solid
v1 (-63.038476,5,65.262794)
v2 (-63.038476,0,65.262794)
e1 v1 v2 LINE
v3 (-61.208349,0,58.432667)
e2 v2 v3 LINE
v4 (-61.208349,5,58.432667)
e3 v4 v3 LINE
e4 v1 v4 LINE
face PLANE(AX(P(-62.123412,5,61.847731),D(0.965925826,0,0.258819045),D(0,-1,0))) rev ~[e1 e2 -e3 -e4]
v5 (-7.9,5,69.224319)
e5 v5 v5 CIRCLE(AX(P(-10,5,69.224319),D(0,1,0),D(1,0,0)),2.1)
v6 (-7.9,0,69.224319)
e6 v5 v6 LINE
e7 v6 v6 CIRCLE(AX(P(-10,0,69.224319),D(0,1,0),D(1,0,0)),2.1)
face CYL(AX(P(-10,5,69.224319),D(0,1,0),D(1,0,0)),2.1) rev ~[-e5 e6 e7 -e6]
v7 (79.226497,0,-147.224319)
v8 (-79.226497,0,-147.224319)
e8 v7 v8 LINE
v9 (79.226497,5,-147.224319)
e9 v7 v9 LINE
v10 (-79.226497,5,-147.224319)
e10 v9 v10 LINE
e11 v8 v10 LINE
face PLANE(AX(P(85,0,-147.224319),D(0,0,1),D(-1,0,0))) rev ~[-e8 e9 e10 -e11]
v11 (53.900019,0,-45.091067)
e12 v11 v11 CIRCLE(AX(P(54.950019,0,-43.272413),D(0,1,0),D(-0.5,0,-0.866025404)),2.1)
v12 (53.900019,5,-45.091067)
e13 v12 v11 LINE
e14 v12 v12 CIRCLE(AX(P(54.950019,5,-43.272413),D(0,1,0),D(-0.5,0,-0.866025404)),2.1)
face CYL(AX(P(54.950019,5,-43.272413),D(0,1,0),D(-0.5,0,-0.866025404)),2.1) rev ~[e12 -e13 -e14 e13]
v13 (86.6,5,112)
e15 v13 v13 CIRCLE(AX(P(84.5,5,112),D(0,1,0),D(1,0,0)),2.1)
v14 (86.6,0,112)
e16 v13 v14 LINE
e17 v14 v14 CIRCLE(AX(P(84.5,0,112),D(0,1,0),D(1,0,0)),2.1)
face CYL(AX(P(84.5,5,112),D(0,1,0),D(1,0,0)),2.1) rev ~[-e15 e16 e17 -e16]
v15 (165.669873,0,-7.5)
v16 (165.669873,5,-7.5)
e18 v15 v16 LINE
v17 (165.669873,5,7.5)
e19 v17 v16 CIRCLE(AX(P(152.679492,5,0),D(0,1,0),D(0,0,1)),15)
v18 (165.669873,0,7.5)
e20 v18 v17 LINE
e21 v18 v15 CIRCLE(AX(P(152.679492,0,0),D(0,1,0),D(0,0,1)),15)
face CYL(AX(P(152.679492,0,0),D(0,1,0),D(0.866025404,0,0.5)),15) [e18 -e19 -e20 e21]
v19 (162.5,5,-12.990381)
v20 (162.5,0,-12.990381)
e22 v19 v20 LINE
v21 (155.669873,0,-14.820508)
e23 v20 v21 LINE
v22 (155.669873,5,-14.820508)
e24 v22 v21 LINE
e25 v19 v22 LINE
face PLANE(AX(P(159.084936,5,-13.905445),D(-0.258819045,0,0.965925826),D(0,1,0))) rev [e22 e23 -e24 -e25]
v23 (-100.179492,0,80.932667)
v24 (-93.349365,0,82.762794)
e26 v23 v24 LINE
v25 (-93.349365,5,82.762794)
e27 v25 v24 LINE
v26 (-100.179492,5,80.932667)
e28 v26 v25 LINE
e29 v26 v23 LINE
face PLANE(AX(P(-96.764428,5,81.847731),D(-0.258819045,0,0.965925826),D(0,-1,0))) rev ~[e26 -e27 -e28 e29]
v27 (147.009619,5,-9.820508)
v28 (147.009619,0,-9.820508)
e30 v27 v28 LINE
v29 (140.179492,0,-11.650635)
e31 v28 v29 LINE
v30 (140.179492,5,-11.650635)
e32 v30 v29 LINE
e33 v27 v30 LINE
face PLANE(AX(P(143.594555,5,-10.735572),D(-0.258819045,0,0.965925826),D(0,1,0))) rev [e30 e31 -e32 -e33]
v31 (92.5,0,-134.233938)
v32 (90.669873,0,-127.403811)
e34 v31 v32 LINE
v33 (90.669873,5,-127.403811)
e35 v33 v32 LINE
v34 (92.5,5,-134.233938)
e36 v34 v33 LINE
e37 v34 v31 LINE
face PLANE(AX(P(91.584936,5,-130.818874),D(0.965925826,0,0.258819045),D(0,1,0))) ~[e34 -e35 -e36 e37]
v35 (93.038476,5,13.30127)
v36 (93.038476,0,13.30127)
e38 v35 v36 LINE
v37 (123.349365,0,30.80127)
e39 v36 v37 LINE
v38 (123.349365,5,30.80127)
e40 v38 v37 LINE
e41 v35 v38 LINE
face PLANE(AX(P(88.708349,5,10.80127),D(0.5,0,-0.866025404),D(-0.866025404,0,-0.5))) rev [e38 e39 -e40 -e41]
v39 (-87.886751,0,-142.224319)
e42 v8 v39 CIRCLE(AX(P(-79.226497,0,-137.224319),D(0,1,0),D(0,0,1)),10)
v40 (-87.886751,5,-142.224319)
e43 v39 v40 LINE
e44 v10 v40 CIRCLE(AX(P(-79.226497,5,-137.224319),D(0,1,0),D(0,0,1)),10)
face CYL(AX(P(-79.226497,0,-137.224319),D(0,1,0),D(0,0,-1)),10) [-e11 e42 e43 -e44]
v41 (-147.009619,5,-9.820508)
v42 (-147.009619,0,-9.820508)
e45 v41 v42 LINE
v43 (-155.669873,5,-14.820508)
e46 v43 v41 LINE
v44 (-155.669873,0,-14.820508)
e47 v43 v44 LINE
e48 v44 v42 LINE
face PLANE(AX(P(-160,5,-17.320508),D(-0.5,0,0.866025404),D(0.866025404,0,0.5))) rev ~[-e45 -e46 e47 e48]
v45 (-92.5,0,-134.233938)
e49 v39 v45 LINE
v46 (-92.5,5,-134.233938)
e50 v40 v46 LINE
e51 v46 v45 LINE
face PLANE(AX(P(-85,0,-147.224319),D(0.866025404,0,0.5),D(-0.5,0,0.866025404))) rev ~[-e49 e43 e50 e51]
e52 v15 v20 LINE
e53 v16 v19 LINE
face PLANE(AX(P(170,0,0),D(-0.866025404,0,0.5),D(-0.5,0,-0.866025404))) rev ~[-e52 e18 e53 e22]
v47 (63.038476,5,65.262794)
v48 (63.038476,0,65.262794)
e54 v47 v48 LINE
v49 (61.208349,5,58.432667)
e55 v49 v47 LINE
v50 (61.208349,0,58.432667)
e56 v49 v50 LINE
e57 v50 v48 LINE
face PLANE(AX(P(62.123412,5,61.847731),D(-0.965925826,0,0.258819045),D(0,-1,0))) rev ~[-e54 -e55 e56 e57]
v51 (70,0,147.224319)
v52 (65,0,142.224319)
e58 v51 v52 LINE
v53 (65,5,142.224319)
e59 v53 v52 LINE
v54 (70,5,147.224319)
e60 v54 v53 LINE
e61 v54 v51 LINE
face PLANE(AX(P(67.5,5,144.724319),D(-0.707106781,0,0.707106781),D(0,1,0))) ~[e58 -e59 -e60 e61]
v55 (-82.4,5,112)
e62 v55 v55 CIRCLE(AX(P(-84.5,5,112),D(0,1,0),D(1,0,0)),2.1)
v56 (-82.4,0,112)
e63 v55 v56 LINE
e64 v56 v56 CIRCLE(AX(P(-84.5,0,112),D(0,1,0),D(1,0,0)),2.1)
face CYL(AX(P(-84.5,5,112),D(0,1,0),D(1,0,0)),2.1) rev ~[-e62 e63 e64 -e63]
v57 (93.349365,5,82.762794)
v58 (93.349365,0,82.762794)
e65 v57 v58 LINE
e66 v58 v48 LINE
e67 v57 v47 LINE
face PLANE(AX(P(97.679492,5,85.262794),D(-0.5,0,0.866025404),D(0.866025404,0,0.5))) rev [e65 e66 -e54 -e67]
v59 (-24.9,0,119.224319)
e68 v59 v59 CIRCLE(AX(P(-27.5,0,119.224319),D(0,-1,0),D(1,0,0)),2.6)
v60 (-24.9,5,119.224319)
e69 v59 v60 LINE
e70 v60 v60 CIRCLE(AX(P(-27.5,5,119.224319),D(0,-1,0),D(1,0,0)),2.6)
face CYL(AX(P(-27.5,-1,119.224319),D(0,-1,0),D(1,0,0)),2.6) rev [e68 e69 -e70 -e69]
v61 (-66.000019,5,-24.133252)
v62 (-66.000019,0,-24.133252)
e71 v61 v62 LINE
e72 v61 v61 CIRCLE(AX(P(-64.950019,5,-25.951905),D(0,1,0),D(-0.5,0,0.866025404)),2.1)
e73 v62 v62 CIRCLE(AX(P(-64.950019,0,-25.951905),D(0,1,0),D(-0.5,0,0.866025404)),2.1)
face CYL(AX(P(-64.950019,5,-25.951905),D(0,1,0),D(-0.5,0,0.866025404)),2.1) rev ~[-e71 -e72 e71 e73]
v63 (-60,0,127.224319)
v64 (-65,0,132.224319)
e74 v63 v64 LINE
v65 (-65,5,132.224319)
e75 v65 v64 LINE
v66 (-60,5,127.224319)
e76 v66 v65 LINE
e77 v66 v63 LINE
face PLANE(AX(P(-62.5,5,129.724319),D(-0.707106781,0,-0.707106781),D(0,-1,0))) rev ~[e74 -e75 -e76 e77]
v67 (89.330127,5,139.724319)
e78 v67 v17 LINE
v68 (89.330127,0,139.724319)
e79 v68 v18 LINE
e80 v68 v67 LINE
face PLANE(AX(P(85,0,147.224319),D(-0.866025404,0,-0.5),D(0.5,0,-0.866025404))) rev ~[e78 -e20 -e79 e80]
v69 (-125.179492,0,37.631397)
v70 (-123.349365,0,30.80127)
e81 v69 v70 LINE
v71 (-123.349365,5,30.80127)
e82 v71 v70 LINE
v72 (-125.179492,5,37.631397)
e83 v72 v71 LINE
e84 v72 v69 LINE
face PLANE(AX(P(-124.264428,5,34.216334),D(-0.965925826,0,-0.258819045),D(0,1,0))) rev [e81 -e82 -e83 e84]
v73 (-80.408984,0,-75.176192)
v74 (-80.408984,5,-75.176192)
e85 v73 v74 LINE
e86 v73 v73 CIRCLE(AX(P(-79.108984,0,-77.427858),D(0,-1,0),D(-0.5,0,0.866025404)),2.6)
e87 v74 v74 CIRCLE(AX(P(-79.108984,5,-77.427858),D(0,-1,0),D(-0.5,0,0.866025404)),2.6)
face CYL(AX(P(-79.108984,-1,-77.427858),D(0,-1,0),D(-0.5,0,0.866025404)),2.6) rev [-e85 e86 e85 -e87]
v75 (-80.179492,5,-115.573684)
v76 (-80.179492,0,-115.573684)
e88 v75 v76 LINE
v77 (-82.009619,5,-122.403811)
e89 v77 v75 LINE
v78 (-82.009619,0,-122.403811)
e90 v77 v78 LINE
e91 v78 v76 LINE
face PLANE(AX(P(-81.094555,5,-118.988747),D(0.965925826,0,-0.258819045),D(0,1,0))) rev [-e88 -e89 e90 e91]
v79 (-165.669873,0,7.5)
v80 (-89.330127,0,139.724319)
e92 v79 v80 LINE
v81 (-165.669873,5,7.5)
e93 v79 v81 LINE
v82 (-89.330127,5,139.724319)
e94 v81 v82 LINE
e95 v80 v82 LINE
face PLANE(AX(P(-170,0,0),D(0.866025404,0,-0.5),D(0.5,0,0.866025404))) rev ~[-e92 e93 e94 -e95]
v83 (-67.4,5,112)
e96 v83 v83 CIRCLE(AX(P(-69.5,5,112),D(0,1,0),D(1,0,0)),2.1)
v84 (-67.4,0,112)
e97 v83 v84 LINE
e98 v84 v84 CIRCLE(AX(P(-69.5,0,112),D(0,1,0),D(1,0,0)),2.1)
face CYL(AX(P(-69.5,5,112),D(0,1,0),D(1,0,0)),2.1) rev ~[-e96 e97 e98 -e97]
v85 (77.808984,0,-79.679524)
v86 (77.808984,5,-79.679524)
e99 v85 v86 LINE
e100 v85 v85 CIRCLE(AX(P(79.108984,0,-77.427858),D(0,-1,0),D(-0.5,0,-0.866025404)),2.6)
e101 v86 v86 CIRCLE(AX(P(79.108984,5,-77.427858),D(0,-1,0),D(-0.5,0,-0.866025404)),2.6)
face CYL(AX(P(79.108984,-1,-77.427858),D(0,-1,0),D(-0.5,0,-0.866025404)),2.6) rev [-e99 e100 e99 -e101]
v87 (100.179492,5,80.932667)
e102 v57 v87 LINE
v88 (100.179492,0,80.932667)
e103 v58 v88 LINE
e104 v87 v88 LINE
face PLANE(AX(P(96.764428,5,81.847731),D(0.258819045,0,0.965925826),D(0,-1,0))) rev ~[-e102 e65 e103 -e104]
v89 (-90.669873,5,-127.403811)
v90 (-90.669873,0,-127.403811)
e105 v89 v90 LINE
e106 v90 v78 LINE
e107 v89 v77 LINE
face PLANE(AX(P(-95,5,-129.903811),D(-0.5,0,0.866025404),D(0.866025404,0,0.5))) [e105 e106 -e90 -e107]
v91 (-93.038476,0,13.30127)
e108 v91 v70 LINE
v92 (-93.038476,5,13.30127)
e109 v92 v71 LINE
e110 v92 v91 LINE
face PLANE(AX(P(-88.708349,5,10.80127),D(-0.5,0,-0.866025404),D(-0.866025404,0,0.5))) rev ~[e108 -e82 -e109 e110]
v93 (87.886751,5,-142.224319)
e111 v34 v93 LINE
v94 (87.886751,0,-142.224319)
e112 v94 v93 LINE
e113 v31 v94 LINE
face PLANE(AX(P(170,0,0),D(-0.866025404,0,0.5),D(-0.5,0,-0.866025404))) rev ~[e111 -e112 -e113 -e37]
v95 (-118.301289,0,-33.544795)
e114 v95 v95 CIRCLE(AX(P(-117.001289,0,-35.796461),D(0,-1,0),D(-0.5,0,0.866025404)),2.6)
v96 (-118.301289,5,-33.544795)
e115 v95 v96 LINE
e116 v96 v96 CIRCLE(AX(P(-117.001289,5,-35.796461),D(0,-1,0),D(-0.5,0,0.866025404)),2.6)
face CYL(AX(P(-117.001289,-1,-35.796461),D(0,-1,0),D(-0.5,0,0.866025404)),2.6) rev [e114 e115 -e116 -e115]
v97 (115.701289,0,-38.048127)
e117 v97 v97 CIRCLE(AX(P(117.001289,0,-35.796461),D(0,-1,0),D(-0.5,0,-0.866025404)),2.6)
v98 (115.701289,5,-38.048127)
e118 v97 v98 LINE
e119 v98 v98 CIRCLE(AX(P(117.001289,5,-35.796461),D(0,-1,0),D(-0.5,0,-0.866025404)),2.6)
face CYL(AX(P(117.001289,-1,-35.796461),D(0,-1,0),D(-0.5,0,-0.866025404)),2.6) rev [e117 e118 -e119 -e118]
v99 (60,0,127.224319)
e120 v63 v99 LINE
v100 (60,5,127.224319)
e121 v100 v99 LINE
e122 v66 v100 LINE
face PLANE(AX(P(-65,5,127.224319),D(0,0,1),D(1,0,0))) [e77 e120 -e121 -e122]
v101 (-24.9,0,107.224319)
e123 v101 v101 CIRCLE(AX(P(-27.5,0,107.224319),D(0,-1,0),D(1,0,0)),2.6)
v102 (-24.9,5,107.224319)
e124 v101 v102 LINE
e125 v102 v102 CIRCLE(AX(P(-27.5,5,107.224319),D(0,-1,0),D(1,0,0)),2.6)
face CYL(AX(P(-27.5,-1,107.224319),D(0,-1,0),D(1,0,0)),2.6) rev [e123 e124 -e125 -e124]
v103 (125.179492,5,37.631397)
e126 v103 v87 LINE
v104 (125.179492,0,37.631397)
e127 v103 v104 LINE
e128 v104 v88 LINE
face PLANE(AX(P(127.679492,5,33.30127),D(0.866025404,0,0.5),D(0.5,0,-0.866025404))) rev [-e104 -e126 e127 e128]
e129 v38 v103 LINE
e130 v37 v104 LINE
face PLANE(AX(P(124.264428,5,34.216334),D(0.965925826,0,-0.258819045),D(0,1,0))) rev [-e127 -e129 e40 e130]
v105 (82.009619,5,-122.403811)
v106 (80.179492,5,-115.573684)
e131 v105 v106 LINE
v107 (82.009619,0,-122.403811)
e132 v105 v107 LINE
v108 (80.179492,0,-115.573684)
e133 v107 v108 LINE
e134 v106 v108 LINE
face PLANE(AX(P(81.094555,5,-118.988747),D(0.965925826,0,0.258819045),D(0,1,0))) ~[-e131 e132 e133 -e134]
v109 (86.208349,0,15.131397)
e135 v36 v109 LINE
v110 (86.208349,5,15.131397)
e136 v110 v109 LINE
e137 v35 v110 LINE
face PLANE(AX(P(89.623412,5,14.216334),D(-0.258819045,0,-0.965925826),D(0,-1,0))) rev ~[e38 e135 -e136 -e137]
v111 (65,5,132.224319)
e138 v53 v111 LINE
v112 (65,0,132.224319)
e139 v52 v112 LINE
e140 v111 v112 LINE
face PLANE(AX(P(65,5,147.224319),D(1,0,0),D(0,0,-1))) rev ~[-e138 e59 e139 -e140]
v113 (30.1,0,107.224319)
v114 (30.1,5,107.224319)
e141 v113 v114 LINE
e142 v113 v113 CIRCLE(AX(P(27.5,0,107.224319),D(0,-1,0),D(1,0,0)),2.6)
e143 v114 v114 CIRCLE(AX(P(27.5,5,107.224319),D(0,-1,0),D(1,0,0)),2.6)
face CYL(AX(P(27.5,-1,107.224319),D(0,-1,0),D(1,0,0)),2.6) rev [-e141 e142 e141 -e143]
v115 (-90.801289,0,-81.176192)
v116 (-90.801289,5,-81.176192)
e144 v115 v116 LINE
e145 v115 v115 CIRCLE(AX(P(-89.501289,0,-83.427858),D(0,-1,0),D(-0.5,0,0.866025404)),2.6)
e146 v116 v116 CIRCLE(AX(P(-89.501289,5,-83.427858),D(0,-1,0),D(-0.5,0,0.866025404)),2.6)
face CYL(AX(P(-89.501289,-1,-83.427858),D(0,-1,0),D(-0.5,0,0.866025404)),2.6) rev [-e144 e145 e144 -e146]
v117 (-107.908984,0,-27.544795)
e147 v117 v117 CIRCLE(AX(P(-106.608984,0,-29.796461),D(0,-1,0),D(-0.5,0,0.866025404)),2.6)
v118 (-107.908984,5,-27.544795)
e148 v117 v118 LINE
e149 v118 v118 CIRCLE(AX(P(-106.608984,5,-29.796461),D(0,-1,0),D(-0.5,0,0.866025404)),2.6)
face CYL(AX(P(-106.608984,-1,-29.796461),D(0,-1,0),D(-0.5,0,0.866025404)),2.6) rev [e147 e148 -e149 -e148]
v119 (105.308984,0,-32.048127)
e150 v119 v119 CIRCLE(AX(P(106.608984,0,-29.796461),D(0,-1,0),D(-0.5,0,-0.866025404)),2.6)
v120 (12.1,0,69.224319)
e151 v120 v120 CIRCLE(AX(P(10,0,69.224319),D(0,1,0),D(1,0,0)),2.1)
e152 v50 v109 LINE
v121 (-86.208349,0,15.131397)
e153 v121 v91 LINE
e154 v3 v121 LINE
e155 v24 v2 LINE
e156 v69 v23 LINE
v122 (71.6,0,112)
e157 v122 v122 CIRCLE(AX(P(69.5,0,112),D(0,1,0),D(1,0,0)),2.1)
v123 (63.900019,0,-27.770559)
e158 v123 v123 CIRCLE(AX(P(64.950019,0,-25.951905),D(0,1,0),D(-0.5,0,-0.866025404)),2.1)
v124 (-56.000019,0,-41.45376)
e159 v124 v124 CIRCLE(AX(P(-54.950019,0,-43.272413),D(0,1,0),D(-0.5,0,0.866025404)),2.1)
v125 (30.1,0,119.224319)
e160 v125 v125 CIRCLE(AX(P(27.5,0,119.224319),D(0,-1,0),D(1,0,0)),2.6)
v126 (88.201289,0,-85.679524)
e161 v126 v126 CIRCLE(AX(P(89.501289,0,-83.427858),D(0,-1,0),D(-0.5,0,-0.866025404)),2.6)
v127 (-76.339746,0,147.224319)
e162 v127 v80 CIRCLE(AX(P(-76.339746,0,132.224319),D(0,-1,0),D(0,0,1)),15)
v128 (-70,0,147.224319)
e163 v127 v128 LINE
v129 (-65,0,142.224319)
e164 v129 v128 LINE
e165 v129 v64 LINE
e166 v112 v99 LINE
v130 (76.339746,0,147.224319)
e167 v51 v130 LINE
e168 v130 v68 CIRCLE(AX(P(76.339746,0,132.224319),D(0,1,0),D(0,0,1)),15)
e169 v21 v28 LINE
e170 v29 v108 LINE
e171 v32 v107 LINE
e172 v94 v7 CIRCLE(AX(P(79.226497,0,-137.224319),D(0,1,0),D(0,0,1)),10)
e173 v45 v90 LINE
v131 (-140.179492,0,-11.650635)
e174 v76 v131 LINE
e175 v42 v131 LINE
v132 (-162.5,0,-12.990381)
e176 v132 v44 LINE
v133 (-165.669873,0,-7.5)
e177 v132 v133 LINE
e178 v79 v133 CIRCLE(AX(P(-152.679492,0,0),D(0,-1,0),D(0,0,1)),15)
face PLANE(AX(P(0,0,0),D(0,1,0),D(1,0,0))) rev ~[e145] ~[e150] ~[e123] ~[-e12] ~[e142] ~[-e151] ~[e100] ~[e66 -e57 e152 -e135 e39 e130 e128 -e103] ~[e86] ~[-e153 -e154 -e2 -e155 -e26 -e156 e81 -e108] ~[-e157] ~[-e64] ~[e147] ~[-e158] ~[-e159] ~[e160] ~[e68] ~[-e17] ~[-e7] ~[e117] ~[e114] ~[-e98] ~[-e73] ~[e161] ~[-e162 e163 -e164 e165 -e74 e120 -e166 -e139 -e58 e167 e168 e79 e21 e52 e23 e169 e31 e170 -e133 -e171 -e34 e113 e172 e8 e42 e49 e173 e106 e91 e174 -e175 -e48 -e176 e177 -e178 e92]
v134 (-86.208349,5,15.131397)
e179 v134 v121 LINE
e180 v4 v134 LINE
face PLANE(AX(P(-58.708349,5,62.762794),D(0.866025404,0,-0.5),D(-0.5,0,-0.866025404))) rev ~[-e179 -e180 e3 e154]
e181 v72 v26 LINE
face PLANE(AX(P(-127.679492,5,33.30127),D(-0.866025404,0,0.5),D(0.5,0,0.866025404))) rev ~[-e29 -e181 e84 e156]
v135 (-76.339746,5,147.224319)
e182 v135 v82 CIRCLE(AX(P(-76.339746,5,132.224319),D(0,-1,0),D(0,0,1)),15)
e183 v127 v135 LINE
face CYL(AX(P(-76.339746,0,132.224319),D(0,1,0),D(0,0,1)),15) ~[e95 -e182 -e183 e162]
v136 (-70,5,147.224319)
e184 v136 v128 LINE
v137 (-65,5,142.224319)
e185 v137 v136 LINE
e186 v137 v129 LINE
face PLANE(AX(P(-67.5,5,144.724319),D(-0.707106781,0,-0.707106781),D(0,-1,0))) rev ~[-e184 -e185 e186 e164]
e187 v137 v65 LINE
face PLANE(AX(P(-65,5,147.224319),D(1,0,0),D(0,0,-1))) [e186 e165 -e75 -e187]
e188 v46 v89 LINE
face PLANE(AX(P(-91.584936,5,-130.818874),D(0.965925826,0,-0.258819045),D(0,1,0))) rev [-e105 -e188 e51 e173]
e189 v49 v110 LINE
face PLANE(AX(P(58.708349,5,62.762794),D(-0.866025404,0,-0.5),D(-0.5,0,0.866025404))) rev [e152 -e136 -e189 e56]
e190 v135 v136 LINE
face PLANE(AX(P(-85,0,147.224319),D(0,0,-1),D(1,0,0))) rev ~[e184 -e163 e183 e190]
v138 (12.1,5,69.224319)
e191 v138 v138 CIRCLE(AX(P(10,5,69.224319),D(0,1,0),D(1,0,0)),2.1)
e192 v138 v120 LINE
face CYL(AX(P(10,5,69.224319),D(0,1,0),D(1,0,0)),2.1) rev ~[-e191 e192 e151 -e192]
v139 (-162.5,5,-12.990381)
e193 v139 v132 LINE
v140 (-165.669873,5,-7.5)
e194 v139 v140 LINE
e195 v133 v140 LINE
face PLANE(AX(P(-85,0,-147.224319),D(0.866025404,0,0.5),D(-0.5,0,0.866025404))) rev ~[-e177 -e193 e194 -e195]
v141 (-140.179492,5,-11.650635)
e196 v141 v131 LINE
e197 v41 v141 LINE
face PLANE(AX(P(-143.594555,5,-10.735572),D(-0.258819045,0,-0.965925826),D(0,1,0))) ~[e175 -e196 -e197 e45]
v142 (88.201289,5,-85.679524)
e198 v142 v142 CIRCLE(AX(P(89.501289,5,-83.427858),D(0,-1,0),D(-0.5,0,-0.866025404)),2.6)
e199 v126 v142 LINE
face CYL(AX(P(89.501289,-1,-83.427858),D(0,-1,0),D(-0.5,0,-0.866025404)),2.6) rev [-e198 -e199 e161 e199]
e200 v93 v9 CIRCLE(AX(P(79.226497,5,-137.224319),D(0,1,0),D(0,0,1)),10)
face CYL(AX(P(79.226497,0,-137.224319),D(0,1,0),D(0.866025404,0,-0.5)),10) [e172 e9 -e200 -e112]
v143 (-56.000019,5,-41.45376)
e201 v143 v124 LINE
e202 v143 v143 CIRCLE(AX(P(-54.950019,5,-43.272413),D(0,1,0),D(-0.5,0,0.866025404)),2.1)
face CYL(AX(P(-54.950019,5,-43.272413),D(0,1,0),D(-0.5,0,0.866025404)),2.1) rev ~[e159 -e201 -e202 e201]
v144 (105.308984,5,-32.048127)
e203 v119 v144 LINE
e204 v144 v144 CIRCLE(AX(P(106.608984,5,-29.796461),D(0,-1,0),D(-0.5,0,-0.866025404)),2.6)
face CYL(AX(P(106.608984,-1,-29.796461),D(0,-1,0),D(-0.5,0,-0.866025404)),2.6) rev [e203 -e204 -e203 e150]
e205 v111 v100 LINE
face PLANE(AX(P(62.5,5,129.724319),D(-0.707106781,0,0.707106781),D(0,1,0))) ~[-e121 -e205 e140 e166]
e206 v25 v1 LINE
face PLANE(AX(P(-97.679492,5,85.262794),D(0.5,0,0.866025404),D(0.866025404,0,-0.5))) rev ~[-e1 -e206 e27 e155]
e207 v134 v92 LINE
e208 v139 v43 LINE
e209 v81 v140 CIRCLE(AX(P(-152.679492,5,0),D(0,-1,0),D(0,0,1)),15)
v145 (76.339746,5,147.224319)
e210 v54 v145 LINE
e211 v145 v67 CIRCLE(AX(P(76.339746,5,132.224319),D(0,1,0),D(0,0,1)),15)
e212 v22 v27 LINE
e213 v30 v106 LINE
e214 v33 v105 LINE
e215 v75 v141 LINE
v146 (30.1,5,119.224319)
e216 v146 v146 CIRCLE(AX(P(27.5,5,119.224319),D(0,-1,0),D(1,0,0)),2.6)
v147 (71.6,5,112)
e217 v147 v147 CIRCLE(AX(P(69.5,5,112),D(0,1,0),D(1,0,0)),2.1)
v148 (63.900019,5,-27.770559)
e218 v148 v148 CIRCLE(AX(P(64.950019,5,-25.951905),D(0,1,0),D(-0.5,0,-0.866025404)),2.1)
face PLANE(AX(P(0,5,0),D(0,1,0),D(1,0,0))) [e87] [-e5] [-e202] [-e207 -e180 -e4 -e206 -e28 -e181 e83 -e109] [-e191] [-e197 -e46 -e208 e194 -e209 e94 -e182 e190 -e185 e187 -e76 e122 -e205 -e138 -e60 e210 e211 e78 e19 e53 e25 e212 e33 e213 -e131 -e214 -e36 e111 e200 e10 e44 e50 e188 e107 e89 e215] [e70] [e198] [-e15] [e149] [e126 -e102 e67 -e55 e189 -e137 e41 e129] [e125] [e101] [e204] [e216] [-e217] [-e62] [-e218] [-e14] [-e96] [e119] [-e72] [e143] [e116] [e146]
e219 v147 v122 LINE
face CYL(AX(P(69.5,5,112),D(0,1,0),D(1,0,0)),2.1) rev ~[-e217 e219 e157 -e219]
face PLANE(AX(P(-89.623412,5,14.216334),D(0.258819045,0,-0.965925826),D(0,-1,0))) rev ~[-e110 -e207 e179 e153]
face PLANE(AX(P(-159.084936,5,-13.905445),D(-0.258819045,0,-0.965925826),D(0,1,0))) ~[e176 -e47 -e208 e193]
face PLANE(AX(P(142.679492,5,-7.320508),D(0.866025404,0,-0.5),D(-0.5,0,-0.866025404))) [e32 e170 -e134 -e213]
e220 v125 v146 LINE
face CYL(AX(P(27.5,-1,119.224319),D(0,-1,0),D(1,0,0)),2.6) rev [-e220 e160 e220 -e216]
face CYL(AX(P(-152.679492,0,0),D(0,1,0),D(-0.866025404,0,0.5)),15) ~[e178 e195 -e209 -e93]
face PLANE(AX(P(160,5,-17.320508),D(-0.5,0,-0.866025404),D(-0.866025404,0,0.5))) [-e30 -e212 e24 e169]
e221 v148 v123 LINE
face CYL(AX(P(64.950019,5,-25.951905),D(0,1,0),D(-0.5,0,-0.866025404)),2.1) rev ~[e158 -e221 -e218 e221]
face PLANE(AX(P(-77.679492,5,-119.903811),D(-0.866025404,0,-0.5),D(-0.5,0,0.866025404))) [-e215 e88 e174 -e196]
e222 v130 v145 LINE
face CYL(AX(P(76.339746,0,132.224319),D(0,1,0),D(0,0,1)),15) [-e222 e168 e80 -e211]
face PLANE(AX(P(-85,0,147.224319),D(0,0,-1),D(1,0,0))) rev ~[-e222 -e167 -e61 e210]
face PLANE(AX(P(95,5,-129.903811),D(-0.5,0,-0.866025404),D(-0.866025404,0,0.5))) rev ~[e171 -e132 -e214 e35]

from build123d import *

# Parameters (mm, degrees)
EXTRUDE_1_DEPTH            = 5
SKETCH_16_W                = 130
SKETCH_16_H                = 20
CUT_EXTRUDE_16_DEPTH       = 10
CUT_EXTRUDE_START          = -6
SKETCH_9_R                 = 2.6
CUT_EXTRUDE_8_DEPTH        = 7
SKETCH_18_R                = 2.1
CUT_EXTRUDE_17_DEPTH       = 5
PATTERN_CIRCULAR_1_COUNT   = 3
CHAMFER_4_SIZE             = 5
SKETCH_5_R                 = 2.1
CUT_EXTRUDE_5_DEPTH        = 6
CUT_EXTRUDE_7_DEPTH        = 6
CHAMFER_2_SIZE             = 5
CHAMFER_2_OF_MIRROR_1_SIZE = 5
FILLET_2_R                 = 15
FILLET_3_R                 = 10


with BuildPart() as part:
    # 草圖1 → 填料-伸長1 (new body)
    with BuildSketch(Plane(origin=(0, 0, 0), x_dir=(1, 0, 0), z_dir=(0, 1, 0))):
        Polygon((85, 147.224318643), (-85, 147.224318643), (-170, 0), (-85, -147.224318643), (85, -147.224318643), (170, 0), align=None)
    extrude(amount=EXTRUDE_1_DEPTH)

    # 草圖16 → 除料-伸長16 (cut)
    with BuildSketch(Plane(origin=(0, 5, 0), x_dir=(1, 0, 0), z_dir=(0, 1, 0))):
        with Locations((0, -137.224318643)):
            Rectangle(SKETCH_16_W, SKETCH_16_H)
    cut_extrude_16 = extrude(amount=-CUT_EXTRUDE_16_DEPTH, mode=Mode.SUBTRACT)

    # 草圖9 → 除料-伸長8 (cut)
    with BuildSketch(Plane(origin=(0, 5, 0), x_dir=(1, 0, 0), z_dir=(0, 1, 0)).offset(CUT_EXTRUDE_START)):
        with Locations((-27.5, -119.224318643)):
            Circle(SKETCH_9_R)
        with Locations((-27.5, -107.224318643)):
            Circle(SKETCH_9_R)
        with Locations((27.5, -107.224318643)):
            Circle(SKETCH_9_R)
        with Locations((27.5, -119.224318643)):
            Circle(SKETCH_9_R)
    cut_extrude_8 = extrude(amount=CUT_EXTRUDE_8_DEPTH, mode=Mode.SUBTRACT)

    # 草圖18 → 除料-伸長17 (cut)
    with BuildSketch(Plane(origin=(0, 5, 0), x_dir=(1, 0, 0), z_dir=(0, 1, 0))):
        with Locations((-10, -69.224318643)):
            Circle(SKETCH_18_R)
        with Locations((10, -69.224318643)):
            Circle(SKETCH_18_R)
    cut_extrude_17 = extrude(amount=-CUT_EXTRUDE_17_DEPTH, mode=Mode.SUBTRACT)

    # 環狀複製排列1: 除料-伸長16, 除料-伸長8, 除料-伸長17 ×3 about axis
    pattern_circular_1_axis = Axis((0, 0, 0), (0, 1, 0))
    for i in range(1, PATTERN_CIRCULAR_1_COUNT):
        add(cut_extrude_16.rotate(pattern_circular_1_axis, i * 360 / PATTERN_CIRCULAR_1_COUNT), mode=Mode.SUBTRACT)
        add(cut_extrude_8.rotate(pattern_circular_1_axis, i * 360 / PATTERN_CIRCULAR_1_COUNT), mode=Mode.SUBTRACT)
        add(cut_extrude_17.rotate(pattern_circular_1_axis, i * 360 / PATTERN_CIRCULAR_1_COUNT), mode=Mode.SUBTRACT)

    # 導角4
    chamfer_4_edges = [part.edges().sort_by_distance(p)[0] for p in [
        (-65, 2.5, 147.224318643),
        (-65, 2.5, 127.224318643),
        (65, 2.5, 127.224318643),
        (65, 2.5, 147.224318643),
        (-95, 2.5, -129.903810568),
        (-77.679491924, 2.5, -119.903810568),
        (-142.679491924, 2.5, -7.320508076),
        (-160, 2.5, -17.320508076),
        (160, 2.5, -17.320508076),
        (142.679491924, 2.5, -7.320508076),
        (77.679491924, 2.5, -119.903810568),
        (95, 2.5, -129.903810568),
    ]]
    chamfer(chamfer_4_edges, length=CHAMFER_4_SIZE)

    # 草圖5 → 除料-伸長5 (cut, through all)
    with BuildSketch(Plane(origin=(0, 5, 0), x_dir=(1, 0, 0), z_dir=(0, 1, 0))):
        with Locations((-84.5, -112)):
            Circle(SKETCH_5_R)
        with Locations((-69.5, -112)):
            Circle(SKETCH_5_R)
        with Locations((84.5, -112)):
            Circle(SKETCH_5_R)
        with Locations((69.5, -112)):
            Circle(SKETCH_5_R)
    extrude(amount=-CUT_EXTRUDE_5_DEPTH, mode=Mode.SUBTRACT)

    # 草圖8 → 除料-伸長7 (cut, through all)
    with BuildSketch(Plane(origin=(0, 5, 0), x_dir=(1, 0, 0), z_dir=(0, 1, 0))):
        Polygon((-127.679491924, -33.301270189), (-97.679491924, -85.262794416), (-58.708348754, -62.762794416), (-88.708348754, -10.801270189), align=None)
    cut_extrude_7 = extrude(amount=-CUT_EXTRUDE_7_DEPTH, mode=Mode.SUBTRACT)

    # 導角2
    chamfer_2_edges = [part.edges().sort_by_distance(p)[0] for p in [
        (-127.679491924, 2.5, 33.301270189),
        (-88.708348754, 2.5, 10.801270189),
        (-58.708348754, 2.5, 62.762794416),
        (-97.679491924, 2.5, 85.262794416),
    ]]
    chamfer(chamfer_2_edges, length=CHAMFER_2_SIZE)

    # 鏡射1: 除料-伸長7 across plane
    add(cut_extrude_7.mirror(Plane(origin=(0, 0, 0), x_dir=(0, 0, 1), z_dir=(1, 0, 0))), mode=Mode.SUBTRACT)

    # 導角2 of 鏡射1
    chamfer_2_of_mirror_1_edges = [part.edges().sort_by_distance(p)[0] for p in [
        (127.679491924, 2.5, 33.301270189),
        (88.708348754, 2.5, 10.801270189),
        (58.708348754, 2.5, 62.762794416),
        (97.679491924, 2.5, 85.262794416),
    ]]
    chamfer(chamfer_2_of_mirror_1_edges, length=CHAMFER_2_OF_MIRROR_1_SIZE)

    # 圓角2
    fillet_2_edges = [part.edges().sort_by_distance(p)[0] for p in [
        (170, 2.5, 0),
        (85, 2.5, 147.224318643),
        (-85, 2.5, 147.224318643),
        (-170, 2.5, 0),
    ]]
    fillet(fillet_2_edges, radius=FILLET_2_R)

    # 圓角3
    fillet_3_edges = [part.edges().sort_by_distance(p)[0] for p in [
        (-85, 2.5, -147.224318643),
        (85, 2.5, -147.224318643),
    ]]
    fillet(fillet_3_edges, radius=FILLET_3_R)


solid = part.part
